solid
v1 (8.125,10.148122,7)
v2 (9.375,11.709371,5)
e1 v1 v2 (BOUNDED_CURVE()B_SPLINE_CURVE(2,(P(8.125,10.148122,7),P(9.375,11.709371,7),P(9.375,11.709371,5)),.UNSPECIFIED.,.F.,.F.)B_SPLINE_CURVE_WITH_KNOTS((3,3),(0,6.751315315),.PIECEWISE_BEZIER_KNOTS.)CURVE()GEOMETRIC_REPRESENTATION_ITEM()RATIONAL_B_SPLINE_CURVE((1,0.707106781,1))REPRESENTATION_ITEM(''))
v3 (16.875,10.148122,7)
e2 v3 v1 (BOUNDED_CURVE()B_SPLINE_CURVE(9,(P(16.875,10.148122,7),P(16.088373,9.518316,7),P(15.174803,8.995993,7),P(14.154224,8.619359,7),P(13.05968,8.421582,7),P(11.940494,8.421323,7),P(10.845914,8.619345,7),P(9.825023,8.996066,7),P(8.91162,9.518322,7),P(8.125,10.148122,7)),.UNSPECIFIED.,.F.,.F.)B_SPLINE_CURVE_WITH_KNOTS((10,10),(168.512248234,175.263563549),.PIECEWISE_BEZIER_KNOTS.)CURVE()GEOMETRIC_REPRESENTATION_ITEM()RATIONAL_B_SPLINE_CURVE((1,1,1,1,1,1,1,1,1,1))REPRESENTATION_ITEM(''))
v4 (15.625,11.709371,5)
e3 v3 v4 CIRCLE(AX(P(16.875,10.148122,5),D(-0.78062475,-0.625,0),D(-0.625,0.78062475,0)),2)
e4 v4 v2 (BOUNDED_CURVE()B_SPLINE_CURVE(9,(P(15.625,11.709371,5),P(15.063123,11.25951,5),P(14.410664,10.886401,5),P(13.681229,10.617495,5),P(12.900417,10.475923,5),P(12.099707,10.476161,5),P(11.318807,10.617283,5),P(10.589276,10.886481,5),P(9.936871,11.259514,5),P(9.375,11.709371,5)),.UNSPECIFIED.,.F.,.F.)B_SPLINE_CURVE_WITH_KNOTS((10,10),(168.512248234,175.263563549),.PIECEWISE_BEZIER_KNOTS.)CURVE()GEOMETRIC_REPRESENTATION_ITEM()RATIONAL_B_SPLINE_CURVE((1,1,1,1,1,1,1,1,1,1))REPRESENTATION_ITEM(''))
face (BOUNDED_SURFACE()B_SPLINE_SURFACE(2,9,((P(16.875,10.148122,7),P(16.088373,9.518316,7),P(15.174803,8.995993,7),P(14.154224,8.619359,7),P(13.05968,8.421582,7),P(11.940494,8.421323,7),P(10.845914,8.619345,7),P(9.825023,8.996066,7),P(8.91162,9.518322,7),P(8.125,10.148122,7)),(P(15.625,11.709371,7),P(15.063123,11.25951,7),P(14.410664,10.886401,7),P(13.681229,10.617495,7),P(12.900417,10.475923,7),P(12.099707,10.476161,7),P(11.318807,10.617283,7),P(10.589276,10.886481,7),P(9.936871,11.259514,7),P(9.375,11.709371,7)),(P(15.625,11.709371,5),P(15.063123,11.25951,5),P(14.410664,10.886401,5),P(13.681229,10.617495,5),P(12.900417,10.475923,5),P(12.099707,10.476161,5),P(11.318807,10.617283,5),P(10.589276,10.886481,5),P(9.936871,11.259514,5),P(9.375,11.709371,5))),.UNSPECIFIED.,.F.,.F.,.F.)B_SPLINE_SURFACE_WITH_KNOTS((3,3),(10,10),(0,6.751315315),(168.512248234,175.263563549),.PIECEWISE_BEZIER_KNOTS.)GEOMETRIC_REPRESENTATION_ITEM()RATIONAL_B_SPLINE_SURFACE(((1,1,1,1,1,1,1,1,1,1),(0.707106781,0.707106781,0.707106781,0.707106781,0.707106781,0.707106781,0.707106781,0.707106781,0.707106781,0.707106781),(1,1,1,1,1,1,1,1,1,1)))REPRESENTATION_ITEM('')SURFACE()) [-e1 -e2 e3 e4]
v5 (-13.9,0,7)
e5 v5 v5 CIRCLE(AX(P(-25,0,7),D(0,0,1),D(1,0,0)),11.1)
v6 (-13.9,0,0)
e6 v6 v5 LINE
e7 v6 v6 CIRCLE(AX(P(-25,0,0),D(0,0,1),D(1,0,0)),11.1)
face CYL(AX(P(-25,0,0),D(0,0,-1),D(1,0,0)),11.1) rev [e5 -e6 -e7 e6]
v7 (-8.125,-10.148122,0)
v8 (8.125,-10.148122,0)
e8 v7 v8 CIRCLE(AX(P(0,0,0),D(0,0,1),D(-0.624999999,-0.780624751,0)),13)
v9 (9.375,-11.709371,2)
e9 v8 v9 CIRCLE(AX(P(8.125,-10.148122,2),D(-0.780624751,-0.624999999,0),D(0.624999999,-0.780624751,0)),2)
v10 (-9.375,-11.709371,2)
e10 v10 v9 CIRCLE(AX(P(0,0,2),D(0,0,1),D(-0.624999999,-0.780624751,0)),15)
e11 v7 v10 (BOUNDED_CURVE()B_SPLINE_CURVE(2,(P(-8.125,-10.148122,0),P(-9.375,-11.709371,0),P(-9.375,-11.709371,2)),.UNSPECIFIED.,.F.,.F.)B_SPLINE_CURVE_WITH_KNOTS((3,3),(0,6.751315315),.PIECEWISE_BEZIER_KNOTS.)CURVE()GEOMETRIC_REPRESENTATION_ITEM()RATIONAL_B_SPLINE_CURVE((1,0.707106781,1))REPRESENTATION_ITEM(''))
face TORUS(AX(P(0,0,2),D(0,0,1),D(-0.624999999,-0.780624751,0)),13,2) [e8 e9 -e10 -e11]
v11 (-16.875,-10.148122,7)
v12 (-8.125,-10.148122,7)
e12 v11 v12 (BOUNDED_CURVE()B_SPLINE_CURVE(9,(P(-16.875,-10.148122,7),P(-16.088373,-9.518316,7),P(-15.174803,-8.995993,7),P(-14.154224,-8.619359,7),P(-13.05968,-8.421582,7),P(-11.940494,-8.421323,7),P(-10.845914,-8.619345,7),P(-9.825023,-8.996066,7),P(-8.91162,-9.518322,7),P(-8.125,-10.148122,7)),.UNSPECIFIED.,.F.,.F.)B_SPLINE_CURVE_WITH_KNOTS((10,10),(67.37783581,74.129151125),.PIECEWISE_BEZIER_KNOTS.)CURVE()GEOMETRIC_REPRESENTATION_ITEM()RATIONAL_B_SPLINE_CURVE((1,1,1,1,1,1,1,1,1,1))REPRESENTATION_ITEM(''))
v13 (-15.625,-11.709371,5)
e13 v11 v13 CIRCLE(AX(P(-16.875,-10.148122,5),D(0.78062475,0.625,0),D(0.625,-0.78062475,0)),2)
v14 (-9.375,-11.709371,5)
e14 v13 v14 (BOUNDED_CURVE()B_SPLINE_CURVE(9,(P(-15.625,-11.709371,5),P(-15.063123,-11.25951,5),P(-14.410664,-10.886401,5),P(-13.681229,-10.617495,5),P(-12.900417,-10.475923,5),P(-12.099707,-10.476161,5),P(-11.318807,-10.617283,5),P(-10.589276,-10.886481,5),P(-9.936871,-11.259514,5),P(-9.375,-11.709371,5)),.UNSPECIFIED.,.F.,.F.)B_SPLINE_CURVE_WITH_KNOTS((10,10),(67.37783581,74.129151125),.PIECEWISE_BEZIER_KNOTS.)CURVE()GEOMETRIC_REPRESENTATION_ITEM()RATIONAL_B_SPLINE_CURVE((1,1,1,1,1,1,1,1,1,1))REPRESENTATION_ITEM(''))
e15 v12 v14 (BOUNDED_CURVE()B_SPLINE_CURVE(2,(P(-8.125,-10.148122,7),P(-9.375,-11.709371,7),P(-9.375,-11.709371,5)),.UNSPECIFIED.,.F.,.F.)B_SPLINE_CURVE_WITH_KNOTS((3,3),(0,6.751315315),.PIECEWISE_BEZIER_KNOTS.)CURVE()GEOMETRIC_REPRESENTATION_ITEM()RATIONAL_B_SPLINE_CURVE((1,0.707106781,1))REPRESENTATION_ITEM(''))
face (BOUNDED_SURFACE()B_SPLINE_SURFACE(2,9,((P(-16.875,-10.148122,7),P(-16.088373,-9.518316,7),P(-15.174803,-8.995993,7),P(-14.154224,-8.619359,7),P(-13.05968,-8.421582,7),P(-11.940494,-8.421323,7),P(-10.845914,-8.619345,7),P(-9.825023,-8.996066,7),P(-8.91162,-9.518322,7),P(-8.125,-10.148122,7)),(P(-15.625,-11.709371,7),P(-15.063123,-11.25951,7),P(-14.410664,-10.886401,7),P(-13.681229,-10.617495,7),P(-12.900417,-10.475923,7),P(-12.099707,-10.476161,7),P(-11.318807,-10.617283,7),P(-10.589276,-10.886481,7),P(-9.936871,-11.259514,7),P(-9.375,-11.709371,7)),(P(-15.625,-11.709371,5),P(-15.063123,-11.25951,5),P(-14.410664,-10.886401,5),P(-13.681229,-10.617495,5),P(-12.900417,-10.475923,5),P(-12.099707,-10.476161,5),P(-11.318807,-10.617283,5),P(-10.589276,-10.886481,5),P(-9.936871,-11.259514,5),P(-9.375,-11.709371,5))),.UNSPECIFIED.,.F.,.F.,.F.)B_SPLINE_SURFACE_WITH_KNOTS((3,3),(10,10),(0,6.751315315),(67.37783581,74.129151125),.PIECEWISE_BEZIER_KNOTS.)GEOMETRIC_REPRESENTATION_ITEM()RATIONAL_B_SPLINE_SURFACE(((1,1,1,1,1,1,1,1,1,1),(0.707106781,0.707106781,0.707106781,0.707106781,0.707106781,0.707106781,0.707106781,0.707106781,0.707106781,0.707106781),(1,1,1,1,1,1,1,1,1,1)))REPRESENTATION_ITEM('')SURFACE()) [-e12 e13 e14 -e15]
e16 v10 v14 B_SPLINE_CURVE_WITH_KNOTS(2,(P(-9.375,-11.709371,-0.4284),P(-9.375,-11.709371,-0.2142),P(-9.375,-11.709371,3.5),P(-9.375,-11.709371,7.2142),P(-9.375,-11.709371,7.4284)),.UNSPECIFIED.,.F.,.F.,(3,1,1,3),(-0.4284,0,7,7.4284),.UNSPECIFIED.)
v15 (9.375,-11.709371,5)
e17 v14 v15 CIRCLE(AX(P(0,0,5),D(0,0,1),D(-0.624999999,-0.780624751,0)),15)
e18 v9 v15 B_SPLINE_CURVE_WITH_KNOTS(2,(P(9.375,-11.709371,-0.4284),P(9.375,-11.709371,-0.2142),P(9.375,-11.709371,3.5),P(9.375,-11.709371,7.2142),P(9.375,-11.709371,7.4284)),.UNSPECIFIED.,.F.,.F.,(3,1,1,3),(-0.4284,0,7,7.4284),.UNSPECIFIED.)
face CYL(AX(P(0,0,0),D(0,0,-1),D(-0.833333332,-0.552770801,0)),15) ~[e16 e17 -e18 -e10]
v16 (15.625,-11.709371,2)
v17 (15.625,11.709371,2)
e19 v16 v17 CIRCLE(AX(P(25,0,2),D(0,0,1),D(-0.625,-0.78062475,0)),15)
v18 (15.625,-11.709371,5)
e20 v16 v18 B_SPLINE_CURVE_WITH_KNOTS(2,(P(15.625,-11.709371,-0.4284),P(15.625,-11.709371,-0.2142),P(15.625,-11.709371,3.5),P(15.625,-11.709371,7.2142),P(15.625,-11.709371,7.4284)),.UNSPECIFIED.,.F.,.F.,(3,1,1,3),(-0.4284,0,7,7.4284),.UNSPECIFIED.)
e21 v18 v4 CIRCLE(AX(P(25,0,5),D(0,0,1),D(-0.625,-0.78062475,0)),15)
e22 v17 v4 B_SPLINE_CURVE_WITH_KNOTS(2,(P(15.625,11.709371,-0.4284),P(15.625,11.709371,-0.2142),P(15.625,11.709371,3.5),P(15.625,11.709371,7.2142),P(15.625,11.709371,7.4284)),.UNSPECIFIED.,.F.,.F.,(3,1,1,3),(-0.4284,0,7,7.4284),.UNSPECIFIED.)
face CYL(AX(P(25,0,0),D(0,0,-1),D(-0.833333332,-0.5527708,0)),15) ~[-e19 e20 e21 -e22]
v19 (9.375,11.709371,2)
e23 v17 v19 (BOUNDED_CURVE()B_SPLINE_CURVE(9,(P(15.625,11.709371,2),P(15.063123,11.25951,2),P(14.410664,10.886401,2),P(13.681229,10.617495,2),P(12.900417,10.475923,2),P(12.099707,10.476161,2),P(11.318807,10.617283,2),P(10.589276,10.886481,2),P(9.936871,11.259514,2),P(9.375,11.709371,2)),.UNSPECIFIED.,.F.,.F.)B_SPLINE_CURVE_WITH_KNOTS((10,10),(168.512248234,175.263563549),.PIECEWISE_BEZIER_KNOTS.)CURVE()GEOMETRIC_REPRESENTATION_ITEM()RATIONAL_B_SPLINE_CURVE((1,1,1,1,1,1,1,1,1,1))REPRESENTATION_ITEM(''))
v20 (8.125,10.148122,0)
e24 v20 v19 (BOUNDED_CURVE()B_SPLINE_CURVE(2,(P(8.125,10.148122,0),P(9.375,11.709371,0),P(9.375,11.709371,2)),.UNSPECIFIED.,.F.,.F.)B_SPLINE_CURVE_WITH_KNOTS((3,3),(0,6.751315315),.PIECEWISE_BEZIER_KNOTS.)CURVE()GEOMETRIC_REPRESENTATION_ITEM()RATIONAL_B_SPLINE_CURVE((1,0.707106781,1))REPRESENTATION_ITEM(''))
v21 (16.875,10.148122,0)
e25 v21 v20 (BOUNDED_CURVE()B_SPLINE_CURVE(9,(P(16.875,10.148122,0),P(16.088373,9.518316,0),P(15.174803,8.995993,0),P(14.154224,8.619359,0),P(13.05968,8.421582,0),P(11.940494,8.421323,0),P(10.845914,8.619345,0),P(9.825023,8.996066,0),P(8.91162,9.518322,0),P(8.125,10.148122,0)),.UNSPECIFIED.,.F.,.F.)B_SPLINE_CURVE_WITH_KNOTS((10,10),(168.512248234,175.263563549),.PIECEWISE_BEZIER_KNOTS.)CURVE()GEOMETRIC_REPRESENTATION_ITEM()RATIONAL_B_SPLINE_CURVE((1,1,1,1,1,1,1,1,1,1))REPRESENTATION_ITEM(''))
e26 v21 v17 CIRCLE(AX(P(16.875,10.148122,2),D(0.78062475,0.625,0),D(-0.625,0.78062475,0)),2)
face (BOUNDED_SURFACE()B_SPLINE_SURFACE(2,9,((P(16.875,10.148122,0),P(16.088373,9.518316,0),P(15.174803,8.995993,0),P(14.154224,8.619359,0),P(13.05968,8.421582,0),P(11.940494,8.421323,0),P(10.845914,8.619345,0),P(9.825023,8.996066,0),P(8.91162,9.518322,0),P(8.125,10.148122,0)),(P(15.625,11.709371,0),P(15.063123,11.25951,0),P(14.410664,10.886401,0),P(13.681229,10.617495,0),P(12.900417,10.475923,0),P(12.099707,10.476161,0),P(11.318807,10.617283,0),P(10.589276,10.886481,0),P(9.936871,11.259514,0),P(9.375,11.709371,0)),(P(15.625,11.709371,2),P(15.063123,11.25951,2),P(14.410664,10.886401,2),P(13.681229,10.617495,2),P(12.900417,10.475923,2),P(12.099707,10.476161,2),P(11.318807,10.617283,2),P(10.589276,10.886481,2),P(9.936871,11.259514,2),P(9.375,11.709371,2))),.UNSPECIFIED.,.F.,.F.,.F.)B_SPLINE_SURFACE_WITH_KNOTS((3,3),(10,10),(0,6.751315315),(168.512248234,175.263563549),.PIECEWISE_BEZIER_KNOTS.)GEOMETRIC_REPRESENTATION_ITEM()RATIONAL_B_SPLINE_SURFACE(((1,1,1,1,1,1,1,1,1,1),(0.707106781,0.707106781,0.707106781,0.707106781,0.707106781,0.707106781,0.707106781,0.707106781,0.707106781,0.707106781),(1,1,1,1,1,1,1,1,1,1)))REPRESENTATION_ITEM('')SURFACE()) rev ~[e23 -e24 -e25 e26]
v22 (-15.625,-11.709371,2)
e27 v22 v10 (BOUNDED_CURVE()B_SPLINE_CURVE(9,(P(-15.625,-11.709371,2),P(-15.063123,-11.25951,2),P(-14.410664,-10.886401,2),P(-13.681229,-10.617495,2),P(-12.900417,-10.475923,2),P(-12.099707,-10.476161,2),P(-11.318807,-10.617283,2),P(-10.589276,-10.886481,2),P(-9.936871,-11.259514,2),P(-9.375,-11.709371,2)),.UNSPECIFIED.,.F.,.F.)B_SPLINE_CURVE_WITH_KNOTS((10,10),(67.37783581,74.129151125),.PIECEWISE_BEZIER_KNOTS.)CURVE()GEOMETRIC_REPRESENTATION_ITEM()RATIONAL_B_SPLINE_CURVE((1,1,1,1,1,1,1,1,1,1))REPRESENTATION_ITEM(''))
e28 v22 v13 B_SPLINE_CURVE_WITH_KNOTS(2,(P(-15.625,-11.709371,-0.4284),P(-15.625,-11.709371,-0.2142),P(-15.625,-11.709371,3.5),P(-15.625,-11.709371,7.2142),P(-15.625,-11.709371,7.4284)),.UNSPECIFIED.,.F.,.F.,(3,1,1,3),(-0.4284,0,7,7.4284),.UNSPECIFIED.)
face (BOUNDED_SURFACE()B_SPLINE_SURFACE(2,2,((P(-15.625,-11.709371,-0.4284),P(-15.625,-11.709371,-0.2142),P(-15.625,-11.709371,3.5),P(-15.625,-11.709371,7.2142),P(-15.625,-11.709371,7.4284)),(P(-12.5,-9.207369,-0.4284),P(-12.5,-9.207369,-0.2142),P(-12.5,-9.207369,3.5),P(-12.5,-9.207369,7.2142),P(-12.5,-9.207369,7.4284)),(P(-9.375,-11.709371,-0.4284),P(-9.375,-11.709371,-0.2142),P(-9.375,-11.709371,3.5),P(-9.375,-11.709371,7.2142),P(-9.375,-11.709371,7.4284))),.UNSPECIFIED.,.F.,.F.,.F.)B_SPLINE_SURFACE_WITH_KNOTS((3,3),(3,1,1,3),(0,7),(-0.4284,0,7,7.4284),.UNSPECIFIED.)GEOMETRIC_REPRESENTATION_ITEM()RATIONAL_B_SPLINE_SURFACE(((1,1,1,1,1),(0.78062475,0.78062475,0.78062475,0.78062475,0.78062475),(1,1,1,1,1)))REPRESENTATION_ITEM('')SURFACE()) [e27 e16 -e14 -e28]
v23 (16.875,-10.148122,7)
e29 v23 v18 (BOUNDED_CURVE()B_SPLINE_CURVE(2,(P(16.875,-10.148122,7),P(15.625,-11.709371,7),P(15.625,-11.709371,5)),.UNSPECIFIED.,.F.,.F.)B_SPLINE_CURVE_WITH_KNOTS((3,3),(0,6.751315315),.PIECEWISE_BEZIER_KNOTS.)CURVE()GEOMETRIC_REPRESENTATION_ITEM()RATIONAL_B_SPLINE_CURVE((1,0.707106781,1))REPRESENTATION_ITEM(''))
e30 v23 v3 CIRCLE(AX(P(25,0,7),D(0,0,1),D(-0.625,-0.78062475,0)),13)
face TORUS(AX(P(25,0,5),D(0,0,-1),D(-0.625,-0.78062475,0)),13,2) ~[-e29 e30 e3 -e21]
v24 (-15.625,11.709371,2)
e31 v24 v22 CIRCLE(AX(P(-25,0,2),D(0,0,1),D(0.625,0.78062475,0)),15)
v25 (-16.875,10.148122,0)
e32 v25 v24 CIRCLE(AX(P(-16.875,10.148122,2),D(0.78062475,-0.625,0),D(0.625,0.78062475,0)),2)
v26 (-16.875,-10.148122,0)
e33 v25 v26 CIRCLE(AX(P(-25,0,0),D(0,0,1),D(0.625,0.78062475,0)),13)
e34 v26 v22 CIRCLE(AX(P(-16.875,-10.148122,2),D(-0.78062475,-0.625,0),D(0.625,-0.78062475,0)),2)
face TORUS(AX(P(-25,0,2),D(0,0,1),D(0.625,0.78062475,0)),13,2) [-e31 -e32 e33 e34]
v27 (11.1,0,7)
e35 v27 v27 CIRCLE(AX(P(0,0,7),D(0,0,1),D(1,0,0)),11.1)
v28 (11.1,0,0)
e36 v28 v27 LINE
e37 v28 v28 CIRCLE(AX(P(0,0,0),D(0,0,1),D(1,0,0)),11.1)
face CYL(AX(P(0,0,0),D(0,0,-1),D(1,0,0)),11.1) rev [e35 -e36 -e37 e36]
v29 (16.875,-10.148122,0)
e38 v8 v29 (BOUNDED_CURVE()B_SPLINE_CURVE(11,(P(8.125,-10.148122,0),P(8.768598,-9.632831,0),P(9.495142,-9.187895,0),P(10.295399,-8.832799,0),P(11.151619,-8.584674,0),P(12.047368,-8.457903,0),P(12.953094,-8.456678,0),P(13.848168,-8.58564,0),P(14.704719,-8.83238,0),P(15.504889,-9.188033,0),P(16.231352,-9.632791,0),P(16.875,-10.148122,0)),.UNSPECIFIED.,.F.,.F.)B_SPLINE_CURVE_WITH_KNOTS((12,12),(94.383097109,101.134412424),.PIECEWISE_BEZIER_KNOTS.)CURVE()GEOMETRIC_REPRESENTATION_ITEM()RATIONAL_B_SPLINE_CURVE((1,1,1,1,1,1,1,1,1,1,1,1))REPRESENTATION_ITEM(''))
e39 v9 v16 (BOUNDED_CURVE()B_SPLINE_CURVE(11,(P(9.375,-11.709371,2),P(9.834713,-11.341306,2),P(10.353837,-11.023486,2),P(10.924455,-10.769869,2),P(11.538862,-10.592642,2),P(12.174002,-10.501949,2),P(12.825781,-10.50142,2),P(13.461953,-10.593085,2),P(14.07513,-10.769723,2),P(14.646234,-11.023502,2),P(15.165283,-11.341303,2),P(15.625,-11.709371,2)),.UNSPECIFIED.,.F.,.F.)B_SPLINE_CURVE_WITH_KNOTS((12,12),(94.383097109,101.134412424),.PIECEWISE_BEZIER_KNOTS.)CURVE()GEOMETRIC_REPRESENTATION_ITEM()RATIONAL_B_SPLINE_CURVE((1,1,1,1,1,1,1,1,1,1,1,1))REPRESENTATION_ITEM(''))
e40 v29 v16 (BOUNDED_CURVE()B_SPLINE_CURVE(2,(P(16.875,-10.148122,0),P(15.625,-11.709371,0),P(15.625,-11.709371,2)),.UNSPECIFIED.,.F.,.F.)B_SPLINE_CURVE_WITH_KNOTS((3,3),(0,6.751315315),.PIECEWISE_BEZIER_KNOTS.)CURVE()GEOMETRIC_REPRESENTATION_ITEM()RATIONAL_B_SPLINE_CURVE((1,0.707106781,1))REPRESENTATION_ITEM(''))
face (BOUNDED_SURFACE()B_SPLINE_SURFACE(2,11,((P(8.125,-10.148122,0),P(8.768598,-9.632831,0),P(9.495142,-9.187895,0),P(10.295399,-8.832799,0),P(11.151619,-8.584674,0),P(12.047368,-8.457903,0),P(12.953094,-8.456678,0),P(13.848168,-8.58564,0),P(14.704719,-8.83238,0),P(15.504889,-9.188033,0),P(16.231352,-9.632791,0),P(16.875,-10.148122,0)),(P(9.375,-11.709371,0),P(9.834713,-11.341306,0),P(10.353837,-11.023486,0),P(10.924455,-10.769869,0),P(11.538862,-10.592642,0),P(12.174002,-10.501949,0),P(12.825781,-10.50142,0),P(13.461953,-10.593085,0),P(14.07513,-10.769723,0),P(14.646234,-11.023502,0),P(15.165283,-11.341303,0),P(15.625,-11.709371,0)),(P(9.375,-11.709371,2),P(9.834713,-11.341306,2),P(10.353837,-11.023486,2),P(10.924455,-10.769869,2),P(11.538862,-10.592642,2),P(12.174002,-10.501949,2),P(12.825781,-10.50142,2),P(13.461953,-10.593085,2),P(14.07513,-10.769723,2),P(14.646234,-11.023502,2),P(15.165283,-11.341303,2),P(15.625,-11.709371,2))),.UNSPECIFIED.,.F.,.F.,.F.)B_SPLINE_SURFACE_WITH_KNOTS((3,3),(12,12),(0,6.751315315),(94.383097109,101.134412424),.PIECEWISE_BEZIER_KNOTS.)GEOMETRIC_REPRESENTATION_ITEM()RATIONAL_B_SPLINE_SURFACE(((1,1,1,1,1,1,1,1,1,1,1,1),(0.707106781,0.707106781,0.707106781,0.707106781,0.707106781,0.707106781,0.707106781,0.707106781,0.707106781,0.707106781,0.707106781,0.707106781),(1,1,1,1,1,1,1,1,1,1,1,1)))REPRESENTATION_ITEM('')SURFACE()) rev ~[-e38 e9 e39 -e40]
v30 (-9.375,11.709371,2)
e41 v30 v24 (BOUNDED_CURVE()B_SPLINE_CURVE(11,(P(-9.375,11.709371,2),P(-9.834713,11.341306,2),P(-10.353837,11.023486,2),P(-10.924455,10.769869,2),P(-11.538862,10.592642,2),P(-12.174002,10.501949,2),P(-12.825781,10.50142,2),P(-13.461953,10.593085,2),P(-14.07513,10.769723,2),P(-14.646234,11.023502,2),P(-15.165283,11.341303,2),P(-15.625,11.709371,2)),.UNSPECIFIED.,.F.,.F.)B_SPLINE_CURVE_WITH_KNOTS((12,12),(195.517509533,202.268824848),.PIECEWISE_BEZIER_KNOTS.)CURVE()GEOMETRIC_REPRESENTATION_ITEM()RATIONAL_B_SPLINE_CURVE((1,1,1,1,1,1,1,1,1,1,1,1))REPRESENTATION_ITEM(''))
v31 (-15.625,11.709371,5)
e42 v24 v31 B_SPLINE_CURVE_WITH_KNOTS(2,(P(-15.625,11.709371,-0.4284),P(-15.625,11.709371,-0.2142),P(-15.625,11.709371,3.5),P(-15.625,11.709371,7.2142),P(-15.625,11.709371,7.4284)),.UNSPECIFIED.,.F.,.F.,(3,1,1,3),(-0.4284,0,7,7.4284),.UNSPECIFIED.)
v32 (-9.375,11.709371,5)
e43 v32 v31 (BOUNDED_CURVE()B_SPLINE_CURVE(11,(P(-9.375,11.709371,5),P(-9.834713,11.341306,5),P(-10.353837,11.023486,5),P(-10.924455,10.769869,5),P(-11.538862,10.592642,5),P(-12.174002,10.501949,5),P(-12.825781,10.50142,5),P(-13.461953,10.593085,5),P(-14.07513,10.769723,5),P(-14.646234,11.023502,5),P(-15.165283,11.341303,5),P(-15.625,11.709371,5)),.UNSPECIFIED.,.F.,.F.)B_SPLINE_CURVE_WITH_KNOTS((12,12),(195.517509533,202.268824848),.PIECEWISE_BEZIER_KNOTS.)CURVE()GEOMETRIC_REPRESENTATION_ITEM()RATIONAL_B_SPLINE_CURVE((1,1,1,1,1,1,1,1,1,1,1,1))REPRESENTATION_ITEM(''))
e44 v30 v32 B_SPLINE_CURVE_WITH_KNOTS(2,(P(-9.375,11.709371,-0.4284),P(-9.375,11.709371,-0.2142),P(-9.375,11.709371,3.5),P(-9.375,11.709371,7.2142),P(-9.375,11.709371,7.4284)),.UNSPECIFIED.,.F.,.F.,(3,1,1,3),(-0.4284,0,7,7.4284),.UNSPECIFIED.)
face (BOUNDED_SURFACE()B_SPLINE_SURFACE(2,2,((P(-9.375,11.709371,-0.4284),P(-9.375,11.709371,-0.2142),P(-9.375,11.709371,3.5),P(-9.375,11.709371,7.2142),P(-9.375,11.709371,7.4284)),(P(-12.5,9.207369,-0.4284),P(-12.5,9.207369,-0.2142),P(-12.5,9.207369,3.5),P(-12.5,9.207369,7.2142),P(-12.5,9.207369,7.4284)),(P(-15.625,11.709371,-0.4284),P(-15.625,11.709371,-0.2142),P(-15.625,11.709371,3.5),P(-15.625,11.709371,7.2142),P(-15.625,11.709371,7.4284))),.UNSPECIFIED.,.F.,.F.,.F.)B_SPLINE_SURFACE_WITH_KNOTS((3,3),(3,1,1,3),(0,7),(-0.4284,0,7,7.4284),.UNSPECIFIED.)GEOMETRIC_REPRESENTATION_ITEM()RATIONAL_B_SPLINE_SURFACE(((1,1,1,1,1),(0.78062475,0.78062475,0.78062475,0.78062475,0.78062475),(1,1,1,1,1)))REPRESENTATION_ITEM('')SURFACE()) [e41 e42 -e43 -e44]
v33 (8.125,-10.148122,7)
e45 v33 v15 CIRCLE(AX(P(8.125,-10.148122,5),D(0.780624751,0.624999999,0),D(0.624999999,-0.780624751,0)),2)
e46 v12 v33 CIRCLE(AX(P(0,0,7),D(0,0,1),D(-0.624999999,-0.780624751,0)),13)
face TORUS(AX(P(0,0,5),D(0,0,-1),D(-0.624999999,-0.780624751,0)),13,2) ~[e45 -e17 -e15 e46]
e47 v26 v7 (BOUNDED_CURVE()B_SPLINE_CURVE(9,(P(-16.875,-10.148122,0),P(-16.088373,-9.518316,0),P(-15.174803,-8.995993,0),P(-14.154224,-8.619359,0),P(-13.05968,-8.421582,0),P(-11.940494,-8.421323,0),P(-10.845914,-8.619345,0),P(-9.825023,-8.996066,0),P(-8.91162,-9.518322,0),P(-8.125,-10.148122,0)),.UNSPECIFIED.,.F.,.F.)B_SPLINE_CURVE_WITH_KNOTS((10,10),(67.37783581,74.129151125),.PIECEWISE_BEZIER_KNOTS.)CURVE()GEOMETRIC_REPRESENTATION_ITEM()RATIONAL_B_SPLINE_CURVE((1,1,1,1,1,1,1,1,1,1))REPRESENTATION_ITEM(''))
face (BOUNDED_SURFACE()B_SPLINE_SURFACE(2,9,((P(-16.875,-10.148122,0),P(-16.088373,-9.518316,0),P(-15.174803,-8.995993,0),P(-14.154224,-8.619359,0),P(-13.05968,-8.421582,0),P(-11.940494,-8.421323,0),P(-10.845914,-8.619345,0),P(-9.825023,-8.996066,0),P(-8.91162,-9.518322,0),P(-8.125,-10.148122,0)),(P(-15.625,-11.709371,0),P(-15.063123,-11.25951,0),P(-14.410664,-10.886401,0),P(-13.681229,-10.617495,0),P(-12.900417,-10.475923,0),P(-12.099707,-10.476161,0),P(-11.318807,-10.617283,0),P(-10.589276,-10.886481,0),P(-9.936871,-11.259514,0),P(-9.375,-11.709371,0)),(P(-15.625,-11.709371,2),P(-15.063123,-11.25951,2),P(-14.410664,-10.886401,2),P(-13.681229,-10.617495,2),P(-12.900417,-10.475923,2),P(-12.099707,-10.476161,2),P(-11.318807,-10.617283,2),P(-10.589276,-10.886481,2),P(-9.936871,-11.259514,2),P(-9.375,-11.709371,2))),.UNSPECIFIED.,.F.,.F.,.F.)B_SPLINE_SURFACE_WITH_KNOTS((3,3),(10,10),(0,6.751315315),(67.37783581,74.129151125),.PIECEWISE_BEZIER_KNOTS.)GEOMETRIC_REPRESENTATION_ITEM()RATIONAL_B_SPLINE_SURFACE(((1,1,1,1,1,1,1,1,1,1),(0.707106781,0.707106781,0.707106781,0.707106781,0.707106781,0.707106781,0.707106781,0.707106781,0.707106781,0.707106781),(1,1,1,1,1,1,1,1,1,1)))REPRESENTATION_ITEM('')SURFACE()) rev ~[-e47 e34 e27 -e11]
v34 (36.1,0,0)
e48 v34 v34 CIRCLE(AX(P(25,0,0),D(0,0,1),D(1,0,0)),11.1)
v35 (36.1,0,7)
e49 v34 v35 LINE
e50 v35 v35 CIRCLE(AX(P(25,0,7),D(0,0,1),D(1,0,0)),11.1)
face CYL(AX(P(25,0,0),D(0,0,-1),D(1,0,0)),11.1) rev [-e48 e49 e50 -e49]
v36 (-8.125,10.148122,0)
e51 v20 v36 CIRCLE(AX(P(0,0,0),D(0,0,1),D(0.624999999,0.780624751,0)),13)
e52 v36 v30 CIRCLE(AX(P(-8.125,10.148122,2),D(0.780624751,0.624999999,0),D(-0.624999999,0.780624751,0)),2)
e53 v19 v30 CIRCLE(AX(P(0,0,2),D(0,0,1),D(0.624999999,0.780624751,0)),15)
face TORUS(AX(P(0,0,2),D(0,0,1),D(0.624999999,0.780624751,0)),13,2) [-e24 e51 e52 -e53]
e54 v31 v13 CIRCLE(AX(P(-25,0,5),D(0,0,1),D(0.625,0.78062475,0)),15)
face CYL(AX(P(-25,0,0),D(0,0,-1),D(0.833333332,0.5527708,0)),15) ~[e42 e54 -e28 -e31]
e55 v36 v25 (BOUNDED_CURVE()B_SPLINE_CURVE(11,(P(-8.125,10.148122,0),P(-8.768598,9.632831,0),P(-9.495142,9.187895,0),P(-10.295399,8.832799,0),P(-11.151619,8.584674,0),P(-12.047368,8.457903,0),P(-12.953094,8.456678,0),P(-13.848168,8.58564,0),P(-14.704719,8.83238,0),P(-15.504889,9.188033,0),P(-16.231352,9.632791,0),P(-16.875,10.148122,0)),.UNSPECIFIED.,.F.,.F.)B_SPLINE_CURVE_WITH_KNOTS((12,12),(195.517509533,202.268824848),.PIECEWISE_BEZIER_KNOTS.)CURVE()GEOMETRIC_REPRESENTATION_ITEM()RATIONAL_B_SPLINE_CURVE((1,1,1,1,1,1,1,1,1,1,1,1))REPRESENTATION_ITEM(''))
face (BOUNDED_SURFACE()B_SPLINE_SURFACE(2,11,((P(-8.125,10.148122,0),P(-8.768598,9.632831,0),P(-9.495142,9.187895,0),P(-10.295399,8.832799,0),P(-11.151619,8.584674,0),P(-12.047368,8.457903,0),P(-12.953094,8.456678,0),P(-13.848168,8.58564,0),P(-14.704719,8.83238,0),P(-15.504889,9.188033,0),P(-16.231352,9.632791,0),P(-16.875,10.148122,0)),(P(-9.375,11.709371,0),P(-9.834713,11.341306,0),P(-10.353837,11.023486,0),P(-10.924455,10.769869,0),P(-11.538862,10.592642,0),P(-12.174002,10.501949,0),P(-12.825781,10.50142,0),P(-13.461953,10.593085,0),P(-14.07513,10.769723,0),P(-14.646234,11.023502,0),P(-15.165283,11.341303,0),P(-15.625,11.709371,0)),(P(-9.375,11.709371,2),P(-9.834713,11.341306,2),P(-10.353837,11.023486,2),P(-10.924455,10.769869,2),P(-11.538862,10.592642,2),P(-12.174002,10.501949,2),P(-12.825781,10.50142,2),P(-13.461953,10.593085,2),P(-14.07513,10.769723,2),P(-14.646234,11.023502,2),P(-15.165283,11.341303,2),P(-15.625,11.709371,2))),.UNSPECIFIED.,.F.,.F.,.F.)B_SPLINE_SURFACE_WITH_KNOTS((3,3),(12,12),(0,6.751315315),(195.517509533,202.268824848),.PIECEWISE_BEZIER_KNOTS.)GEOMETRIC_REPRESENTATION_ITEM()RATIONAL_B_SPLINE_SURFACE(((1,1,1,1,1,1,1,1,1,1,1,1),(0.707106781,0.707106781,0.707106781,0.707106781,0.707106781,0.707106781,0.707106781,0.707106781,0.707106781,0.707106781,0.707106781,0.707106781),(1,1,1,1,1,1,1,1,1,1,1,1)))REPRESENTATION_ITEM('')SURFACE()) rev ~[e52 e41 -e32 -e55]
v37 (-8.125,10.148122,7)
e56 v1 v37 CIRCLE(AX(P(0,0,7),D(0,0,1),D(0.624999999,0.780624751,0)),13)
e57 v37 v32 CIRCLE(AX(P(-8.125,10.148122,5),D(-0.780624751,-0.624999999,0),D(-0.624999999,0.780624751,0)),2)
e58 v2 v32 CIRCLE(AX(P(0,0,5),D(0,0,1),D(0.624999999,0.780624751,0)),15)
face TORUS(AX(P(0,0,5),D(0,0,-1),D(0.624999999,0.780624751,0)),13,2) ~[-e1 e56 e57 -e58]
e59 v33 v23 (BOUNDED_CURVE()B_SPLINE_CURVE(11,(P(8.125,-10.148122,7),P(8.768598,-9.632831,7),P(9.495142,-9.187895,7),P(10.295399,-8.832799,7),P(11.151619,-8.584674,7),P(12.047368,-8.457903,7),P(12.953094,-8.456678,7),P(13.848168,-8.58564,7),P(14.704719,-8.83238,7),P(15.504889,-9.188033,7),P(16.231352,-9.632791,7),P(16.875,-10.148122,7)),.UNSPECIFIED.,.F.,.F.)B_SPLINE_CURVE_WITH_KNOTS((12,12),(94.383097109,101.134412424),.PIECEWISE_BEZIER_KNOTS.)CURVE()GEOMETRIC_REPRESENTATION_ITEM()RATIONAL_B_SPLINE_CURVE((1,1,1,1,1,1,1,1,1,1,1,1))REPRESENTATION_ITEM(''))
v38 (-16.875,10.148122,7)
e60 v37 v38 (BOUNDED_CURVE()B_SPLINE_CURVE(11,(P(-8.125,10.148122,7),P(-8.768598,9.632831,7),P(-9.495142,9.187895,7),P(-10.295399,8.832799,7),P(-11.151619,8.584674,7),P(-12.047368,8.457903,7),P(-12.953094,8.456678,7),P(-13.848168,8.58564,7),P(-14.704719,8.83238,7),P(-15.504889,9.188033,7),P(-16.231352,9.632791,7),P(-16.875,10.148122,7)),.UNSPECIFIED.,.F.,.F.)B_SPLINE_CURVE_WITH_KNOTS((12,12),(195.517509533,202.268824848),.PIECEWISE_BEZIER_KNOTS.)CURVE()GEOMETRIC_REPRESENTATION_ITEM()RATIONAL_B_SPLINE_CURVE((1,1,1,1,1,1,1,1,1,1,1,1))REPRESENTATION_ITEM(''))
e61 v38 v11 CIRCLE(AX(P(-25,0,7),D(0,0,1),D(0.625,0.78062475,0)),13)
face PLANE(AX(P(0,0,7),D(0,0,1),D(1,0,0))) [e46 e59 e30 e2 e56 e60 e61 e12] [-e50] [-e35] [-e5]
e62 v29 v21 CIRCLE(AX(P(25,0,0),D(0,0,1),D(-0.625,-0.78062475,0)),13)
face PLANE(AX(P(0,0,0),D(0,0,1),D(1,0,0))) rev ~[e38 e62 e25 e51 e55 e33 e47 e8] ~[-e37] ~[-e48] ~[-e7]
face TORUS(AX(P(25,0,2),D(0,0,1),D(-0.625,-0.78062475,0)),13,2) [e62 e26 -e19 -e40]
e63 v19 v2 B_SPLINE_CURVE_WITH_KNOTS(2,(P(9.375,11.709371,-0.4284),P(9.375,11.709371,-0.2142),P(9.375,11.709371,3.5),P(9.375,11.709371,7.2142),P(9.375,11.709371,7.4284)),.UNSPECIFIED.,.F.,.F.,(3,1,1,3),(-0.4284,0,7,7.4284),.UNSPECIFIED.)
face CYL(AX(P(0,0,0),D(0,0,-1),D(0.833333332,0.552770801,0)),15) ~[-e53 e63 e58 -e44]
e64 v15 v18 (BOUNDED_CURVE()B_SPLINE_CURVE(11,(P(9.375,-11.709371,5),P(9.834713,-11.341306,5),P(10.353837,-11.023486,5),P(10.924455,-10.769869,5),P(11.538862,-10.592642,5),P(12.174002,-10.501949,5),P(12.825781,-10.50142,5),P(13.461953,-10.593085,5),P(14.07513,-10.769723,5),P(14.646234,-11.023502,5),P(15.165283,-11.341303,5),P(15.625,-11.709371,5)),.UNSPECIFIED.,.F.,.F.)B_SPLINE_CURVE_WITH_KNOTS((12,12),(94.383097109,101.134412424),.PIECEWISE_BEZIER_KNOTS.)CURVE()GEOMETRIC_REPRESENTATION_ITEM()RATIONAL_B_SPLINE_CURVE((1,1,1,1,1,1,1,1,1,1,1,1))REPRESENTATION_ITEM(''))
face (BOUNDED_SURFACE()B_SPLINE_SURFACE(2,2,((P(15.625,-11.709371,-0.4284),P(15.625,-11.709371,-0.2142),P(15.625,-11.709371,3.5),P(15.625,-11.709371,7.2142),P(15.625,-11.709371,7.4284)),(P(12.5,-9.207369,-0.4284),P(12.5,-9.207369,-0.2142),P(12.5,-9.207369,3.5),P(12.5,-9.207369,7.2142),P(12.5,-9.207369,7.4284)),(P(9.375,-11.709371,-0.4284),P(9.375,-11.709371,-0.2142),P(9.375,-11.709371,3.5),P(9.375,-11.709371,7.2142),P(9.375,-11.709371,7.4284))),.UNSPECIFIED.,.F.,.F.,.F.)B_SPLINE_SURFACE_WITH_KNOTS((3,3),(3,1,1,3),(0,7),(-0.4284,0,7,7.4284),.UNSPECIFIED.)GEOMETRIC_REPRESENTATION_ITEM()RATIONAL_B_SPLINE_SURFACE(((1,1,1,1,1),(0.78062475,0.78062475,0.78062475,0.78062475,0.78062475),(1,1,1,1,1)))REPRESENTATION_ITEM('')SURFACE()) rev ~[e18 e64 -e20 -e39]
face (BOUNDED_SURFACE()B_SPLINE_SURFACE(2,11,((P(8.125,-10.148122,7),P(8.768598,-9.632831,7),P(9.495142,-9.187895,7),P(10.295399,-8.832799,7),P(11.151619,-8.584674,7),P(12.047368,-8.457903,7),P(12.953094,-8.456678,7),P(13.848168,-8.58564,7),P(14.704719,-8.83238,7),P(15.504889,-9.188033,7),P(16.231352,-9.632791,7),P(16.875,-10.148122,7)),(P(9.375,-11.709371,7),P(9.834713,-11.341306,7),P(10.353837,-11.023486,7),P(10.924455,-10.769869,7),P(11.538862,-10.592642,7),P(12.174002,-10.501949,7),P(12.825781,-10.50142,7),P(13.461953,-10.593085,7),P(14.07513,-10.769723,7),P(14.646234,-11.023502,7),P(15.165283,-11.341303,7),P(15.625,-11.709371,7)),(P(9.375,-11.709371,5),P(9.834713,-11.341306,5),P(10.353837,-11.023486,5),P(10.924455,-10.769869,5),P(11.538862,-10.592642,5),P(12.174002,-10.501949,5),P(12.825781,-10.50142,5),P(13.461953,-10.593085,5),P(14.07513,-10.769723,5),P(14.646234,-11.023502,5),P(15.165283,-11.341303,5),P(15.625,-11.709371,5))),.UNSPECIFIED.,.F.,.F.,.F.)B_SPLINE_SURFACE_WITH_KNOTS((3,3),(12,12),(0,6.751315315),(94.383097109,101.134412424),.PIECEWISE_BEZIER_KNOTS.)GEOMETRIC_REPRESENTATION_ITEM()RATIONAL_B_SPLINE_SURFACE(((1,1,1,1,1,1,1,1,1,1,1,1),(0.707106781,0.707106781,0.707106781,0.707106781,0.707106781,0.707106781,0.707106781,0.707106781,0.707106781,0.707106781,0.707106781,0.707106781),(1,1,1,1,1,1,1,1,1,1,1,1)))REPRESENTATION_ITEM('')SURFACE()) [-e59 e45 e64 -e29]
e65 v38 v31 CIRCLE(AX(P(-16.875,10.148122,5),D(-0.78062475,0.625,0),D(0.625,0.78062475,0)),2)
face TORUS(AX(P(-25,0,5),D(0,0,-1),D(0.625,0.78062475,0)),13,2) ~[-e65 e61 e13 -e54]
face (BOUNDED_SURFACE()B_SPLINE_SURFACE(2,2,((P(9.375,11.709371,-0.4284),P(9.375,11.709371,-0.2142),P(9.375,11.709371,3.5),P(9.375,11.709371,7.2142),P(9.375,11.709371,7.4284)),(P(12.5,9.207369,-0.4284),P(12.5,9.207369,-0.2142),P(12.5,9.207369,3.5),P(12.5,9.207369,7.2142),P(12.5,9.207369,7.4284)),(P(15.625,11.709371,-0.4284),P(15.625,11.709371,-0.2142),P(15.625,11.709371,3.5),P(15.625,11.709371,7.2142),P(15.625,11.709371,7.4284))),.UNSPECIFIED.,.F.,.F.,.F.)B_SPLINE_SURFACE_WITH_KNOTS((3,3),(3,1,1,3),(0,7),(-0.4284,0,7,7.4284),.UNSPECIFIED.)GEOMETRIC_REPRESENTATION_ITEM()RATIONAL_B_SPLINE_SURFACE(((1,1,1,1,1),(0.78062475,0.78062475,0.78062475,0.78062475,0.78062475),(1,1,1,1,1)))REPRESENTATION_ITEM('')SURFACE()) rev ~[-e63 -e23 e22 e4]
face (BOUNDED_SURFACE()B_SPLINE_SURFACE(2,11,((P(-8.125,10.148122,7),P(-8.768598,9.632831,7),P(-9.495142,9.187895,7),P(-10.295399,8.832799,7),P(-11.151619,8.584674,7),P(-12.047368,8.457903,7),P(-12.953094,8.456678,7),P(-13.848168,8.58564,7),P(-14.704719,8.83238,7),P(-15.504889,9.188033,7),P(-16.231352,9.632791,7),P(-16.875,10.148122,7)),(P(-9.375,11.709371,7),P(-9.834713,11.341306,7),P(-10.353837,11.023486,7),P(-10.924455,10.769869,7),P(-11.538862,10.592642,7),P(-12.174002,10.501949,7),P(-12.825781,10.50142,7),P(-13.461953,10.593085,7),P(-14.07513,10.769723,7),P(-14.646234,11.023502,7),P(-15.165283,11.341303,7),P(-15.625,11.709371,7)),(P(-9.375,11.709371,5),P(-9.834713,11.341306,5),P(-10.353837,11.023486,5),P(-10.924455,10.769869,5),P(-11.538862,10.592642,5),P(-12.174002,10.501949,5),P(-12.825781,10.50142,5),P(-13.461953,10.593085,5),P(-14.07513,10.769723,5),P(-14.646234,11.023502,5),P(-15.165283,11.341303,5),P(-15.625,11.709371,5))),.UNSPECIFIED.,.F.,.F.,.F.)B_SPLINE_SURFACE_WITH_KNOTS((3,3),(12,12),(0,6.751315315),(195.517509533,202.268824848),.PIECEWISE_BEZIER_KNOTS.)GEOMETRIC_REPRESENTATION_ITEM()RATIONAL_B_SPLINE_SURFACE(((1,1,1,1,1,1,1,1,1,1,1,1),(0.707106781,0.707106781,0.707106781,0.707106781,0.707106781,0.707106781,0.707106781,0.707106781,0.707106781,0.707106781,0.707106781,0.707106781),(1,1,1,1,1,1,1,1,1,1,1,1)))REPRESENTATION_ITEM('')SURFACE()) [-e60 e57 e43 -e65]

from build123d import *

# Parameters (mm, degrees)
F0_R     = 11.1
F1_DEPTH = 7
F2_R     = 5
F3_R     = 2


with BuildPart() as f1:
    # F0 (on Top) → F1 (new body)
    with BuildSketch(Plane.XY):
        with BuildLine():
            ThreePointArc((12.5, 8.291562), (0, 15), (-12.5, 8.291562))
            ThreePointArc((-12.5, 8.291562), (-40, 0), (-12.5, -8.291562))
            ThreePointArc((-12.5, -8.291562), (0, -15), (12.5, -8.291562))
            ThreePointArc((12.5, -8.291562), (40, 0), (12.5, 8.291562))
        make_face()
        with Locations((-25, 0)):
            Circle(F0_R, mode=Mode.SUBTRACT)
        Circle(F0_R, mode=Mode.SUBTRACT)
        with Locations((25, 0)):
            Circle(F0_R, mode=Mode.SUBTRACT)
    extrude(amount=F1_DEPTH)

    # F2
    f2_edges = [f1.edges().sort_by_distance(p)[0] for p in [
        (-12.5, -8.291562, 3.5),
        (12.5, -8.291562, 3.5),
        (12.5, 8.291562, 3.5),
        (-12.5, 8.291562, 3.5),
    ]]
    fillet(f2_edges, radius=F2_R)

    # F3
    f3_edges = [f1.edges().sort_by_distance(p)[0] for p in [
        (-40, 0, 7),
        (-40, 0, 0),
    ]]
    fillet(f3_edges, radius=F3_R)


solid = f1.part
